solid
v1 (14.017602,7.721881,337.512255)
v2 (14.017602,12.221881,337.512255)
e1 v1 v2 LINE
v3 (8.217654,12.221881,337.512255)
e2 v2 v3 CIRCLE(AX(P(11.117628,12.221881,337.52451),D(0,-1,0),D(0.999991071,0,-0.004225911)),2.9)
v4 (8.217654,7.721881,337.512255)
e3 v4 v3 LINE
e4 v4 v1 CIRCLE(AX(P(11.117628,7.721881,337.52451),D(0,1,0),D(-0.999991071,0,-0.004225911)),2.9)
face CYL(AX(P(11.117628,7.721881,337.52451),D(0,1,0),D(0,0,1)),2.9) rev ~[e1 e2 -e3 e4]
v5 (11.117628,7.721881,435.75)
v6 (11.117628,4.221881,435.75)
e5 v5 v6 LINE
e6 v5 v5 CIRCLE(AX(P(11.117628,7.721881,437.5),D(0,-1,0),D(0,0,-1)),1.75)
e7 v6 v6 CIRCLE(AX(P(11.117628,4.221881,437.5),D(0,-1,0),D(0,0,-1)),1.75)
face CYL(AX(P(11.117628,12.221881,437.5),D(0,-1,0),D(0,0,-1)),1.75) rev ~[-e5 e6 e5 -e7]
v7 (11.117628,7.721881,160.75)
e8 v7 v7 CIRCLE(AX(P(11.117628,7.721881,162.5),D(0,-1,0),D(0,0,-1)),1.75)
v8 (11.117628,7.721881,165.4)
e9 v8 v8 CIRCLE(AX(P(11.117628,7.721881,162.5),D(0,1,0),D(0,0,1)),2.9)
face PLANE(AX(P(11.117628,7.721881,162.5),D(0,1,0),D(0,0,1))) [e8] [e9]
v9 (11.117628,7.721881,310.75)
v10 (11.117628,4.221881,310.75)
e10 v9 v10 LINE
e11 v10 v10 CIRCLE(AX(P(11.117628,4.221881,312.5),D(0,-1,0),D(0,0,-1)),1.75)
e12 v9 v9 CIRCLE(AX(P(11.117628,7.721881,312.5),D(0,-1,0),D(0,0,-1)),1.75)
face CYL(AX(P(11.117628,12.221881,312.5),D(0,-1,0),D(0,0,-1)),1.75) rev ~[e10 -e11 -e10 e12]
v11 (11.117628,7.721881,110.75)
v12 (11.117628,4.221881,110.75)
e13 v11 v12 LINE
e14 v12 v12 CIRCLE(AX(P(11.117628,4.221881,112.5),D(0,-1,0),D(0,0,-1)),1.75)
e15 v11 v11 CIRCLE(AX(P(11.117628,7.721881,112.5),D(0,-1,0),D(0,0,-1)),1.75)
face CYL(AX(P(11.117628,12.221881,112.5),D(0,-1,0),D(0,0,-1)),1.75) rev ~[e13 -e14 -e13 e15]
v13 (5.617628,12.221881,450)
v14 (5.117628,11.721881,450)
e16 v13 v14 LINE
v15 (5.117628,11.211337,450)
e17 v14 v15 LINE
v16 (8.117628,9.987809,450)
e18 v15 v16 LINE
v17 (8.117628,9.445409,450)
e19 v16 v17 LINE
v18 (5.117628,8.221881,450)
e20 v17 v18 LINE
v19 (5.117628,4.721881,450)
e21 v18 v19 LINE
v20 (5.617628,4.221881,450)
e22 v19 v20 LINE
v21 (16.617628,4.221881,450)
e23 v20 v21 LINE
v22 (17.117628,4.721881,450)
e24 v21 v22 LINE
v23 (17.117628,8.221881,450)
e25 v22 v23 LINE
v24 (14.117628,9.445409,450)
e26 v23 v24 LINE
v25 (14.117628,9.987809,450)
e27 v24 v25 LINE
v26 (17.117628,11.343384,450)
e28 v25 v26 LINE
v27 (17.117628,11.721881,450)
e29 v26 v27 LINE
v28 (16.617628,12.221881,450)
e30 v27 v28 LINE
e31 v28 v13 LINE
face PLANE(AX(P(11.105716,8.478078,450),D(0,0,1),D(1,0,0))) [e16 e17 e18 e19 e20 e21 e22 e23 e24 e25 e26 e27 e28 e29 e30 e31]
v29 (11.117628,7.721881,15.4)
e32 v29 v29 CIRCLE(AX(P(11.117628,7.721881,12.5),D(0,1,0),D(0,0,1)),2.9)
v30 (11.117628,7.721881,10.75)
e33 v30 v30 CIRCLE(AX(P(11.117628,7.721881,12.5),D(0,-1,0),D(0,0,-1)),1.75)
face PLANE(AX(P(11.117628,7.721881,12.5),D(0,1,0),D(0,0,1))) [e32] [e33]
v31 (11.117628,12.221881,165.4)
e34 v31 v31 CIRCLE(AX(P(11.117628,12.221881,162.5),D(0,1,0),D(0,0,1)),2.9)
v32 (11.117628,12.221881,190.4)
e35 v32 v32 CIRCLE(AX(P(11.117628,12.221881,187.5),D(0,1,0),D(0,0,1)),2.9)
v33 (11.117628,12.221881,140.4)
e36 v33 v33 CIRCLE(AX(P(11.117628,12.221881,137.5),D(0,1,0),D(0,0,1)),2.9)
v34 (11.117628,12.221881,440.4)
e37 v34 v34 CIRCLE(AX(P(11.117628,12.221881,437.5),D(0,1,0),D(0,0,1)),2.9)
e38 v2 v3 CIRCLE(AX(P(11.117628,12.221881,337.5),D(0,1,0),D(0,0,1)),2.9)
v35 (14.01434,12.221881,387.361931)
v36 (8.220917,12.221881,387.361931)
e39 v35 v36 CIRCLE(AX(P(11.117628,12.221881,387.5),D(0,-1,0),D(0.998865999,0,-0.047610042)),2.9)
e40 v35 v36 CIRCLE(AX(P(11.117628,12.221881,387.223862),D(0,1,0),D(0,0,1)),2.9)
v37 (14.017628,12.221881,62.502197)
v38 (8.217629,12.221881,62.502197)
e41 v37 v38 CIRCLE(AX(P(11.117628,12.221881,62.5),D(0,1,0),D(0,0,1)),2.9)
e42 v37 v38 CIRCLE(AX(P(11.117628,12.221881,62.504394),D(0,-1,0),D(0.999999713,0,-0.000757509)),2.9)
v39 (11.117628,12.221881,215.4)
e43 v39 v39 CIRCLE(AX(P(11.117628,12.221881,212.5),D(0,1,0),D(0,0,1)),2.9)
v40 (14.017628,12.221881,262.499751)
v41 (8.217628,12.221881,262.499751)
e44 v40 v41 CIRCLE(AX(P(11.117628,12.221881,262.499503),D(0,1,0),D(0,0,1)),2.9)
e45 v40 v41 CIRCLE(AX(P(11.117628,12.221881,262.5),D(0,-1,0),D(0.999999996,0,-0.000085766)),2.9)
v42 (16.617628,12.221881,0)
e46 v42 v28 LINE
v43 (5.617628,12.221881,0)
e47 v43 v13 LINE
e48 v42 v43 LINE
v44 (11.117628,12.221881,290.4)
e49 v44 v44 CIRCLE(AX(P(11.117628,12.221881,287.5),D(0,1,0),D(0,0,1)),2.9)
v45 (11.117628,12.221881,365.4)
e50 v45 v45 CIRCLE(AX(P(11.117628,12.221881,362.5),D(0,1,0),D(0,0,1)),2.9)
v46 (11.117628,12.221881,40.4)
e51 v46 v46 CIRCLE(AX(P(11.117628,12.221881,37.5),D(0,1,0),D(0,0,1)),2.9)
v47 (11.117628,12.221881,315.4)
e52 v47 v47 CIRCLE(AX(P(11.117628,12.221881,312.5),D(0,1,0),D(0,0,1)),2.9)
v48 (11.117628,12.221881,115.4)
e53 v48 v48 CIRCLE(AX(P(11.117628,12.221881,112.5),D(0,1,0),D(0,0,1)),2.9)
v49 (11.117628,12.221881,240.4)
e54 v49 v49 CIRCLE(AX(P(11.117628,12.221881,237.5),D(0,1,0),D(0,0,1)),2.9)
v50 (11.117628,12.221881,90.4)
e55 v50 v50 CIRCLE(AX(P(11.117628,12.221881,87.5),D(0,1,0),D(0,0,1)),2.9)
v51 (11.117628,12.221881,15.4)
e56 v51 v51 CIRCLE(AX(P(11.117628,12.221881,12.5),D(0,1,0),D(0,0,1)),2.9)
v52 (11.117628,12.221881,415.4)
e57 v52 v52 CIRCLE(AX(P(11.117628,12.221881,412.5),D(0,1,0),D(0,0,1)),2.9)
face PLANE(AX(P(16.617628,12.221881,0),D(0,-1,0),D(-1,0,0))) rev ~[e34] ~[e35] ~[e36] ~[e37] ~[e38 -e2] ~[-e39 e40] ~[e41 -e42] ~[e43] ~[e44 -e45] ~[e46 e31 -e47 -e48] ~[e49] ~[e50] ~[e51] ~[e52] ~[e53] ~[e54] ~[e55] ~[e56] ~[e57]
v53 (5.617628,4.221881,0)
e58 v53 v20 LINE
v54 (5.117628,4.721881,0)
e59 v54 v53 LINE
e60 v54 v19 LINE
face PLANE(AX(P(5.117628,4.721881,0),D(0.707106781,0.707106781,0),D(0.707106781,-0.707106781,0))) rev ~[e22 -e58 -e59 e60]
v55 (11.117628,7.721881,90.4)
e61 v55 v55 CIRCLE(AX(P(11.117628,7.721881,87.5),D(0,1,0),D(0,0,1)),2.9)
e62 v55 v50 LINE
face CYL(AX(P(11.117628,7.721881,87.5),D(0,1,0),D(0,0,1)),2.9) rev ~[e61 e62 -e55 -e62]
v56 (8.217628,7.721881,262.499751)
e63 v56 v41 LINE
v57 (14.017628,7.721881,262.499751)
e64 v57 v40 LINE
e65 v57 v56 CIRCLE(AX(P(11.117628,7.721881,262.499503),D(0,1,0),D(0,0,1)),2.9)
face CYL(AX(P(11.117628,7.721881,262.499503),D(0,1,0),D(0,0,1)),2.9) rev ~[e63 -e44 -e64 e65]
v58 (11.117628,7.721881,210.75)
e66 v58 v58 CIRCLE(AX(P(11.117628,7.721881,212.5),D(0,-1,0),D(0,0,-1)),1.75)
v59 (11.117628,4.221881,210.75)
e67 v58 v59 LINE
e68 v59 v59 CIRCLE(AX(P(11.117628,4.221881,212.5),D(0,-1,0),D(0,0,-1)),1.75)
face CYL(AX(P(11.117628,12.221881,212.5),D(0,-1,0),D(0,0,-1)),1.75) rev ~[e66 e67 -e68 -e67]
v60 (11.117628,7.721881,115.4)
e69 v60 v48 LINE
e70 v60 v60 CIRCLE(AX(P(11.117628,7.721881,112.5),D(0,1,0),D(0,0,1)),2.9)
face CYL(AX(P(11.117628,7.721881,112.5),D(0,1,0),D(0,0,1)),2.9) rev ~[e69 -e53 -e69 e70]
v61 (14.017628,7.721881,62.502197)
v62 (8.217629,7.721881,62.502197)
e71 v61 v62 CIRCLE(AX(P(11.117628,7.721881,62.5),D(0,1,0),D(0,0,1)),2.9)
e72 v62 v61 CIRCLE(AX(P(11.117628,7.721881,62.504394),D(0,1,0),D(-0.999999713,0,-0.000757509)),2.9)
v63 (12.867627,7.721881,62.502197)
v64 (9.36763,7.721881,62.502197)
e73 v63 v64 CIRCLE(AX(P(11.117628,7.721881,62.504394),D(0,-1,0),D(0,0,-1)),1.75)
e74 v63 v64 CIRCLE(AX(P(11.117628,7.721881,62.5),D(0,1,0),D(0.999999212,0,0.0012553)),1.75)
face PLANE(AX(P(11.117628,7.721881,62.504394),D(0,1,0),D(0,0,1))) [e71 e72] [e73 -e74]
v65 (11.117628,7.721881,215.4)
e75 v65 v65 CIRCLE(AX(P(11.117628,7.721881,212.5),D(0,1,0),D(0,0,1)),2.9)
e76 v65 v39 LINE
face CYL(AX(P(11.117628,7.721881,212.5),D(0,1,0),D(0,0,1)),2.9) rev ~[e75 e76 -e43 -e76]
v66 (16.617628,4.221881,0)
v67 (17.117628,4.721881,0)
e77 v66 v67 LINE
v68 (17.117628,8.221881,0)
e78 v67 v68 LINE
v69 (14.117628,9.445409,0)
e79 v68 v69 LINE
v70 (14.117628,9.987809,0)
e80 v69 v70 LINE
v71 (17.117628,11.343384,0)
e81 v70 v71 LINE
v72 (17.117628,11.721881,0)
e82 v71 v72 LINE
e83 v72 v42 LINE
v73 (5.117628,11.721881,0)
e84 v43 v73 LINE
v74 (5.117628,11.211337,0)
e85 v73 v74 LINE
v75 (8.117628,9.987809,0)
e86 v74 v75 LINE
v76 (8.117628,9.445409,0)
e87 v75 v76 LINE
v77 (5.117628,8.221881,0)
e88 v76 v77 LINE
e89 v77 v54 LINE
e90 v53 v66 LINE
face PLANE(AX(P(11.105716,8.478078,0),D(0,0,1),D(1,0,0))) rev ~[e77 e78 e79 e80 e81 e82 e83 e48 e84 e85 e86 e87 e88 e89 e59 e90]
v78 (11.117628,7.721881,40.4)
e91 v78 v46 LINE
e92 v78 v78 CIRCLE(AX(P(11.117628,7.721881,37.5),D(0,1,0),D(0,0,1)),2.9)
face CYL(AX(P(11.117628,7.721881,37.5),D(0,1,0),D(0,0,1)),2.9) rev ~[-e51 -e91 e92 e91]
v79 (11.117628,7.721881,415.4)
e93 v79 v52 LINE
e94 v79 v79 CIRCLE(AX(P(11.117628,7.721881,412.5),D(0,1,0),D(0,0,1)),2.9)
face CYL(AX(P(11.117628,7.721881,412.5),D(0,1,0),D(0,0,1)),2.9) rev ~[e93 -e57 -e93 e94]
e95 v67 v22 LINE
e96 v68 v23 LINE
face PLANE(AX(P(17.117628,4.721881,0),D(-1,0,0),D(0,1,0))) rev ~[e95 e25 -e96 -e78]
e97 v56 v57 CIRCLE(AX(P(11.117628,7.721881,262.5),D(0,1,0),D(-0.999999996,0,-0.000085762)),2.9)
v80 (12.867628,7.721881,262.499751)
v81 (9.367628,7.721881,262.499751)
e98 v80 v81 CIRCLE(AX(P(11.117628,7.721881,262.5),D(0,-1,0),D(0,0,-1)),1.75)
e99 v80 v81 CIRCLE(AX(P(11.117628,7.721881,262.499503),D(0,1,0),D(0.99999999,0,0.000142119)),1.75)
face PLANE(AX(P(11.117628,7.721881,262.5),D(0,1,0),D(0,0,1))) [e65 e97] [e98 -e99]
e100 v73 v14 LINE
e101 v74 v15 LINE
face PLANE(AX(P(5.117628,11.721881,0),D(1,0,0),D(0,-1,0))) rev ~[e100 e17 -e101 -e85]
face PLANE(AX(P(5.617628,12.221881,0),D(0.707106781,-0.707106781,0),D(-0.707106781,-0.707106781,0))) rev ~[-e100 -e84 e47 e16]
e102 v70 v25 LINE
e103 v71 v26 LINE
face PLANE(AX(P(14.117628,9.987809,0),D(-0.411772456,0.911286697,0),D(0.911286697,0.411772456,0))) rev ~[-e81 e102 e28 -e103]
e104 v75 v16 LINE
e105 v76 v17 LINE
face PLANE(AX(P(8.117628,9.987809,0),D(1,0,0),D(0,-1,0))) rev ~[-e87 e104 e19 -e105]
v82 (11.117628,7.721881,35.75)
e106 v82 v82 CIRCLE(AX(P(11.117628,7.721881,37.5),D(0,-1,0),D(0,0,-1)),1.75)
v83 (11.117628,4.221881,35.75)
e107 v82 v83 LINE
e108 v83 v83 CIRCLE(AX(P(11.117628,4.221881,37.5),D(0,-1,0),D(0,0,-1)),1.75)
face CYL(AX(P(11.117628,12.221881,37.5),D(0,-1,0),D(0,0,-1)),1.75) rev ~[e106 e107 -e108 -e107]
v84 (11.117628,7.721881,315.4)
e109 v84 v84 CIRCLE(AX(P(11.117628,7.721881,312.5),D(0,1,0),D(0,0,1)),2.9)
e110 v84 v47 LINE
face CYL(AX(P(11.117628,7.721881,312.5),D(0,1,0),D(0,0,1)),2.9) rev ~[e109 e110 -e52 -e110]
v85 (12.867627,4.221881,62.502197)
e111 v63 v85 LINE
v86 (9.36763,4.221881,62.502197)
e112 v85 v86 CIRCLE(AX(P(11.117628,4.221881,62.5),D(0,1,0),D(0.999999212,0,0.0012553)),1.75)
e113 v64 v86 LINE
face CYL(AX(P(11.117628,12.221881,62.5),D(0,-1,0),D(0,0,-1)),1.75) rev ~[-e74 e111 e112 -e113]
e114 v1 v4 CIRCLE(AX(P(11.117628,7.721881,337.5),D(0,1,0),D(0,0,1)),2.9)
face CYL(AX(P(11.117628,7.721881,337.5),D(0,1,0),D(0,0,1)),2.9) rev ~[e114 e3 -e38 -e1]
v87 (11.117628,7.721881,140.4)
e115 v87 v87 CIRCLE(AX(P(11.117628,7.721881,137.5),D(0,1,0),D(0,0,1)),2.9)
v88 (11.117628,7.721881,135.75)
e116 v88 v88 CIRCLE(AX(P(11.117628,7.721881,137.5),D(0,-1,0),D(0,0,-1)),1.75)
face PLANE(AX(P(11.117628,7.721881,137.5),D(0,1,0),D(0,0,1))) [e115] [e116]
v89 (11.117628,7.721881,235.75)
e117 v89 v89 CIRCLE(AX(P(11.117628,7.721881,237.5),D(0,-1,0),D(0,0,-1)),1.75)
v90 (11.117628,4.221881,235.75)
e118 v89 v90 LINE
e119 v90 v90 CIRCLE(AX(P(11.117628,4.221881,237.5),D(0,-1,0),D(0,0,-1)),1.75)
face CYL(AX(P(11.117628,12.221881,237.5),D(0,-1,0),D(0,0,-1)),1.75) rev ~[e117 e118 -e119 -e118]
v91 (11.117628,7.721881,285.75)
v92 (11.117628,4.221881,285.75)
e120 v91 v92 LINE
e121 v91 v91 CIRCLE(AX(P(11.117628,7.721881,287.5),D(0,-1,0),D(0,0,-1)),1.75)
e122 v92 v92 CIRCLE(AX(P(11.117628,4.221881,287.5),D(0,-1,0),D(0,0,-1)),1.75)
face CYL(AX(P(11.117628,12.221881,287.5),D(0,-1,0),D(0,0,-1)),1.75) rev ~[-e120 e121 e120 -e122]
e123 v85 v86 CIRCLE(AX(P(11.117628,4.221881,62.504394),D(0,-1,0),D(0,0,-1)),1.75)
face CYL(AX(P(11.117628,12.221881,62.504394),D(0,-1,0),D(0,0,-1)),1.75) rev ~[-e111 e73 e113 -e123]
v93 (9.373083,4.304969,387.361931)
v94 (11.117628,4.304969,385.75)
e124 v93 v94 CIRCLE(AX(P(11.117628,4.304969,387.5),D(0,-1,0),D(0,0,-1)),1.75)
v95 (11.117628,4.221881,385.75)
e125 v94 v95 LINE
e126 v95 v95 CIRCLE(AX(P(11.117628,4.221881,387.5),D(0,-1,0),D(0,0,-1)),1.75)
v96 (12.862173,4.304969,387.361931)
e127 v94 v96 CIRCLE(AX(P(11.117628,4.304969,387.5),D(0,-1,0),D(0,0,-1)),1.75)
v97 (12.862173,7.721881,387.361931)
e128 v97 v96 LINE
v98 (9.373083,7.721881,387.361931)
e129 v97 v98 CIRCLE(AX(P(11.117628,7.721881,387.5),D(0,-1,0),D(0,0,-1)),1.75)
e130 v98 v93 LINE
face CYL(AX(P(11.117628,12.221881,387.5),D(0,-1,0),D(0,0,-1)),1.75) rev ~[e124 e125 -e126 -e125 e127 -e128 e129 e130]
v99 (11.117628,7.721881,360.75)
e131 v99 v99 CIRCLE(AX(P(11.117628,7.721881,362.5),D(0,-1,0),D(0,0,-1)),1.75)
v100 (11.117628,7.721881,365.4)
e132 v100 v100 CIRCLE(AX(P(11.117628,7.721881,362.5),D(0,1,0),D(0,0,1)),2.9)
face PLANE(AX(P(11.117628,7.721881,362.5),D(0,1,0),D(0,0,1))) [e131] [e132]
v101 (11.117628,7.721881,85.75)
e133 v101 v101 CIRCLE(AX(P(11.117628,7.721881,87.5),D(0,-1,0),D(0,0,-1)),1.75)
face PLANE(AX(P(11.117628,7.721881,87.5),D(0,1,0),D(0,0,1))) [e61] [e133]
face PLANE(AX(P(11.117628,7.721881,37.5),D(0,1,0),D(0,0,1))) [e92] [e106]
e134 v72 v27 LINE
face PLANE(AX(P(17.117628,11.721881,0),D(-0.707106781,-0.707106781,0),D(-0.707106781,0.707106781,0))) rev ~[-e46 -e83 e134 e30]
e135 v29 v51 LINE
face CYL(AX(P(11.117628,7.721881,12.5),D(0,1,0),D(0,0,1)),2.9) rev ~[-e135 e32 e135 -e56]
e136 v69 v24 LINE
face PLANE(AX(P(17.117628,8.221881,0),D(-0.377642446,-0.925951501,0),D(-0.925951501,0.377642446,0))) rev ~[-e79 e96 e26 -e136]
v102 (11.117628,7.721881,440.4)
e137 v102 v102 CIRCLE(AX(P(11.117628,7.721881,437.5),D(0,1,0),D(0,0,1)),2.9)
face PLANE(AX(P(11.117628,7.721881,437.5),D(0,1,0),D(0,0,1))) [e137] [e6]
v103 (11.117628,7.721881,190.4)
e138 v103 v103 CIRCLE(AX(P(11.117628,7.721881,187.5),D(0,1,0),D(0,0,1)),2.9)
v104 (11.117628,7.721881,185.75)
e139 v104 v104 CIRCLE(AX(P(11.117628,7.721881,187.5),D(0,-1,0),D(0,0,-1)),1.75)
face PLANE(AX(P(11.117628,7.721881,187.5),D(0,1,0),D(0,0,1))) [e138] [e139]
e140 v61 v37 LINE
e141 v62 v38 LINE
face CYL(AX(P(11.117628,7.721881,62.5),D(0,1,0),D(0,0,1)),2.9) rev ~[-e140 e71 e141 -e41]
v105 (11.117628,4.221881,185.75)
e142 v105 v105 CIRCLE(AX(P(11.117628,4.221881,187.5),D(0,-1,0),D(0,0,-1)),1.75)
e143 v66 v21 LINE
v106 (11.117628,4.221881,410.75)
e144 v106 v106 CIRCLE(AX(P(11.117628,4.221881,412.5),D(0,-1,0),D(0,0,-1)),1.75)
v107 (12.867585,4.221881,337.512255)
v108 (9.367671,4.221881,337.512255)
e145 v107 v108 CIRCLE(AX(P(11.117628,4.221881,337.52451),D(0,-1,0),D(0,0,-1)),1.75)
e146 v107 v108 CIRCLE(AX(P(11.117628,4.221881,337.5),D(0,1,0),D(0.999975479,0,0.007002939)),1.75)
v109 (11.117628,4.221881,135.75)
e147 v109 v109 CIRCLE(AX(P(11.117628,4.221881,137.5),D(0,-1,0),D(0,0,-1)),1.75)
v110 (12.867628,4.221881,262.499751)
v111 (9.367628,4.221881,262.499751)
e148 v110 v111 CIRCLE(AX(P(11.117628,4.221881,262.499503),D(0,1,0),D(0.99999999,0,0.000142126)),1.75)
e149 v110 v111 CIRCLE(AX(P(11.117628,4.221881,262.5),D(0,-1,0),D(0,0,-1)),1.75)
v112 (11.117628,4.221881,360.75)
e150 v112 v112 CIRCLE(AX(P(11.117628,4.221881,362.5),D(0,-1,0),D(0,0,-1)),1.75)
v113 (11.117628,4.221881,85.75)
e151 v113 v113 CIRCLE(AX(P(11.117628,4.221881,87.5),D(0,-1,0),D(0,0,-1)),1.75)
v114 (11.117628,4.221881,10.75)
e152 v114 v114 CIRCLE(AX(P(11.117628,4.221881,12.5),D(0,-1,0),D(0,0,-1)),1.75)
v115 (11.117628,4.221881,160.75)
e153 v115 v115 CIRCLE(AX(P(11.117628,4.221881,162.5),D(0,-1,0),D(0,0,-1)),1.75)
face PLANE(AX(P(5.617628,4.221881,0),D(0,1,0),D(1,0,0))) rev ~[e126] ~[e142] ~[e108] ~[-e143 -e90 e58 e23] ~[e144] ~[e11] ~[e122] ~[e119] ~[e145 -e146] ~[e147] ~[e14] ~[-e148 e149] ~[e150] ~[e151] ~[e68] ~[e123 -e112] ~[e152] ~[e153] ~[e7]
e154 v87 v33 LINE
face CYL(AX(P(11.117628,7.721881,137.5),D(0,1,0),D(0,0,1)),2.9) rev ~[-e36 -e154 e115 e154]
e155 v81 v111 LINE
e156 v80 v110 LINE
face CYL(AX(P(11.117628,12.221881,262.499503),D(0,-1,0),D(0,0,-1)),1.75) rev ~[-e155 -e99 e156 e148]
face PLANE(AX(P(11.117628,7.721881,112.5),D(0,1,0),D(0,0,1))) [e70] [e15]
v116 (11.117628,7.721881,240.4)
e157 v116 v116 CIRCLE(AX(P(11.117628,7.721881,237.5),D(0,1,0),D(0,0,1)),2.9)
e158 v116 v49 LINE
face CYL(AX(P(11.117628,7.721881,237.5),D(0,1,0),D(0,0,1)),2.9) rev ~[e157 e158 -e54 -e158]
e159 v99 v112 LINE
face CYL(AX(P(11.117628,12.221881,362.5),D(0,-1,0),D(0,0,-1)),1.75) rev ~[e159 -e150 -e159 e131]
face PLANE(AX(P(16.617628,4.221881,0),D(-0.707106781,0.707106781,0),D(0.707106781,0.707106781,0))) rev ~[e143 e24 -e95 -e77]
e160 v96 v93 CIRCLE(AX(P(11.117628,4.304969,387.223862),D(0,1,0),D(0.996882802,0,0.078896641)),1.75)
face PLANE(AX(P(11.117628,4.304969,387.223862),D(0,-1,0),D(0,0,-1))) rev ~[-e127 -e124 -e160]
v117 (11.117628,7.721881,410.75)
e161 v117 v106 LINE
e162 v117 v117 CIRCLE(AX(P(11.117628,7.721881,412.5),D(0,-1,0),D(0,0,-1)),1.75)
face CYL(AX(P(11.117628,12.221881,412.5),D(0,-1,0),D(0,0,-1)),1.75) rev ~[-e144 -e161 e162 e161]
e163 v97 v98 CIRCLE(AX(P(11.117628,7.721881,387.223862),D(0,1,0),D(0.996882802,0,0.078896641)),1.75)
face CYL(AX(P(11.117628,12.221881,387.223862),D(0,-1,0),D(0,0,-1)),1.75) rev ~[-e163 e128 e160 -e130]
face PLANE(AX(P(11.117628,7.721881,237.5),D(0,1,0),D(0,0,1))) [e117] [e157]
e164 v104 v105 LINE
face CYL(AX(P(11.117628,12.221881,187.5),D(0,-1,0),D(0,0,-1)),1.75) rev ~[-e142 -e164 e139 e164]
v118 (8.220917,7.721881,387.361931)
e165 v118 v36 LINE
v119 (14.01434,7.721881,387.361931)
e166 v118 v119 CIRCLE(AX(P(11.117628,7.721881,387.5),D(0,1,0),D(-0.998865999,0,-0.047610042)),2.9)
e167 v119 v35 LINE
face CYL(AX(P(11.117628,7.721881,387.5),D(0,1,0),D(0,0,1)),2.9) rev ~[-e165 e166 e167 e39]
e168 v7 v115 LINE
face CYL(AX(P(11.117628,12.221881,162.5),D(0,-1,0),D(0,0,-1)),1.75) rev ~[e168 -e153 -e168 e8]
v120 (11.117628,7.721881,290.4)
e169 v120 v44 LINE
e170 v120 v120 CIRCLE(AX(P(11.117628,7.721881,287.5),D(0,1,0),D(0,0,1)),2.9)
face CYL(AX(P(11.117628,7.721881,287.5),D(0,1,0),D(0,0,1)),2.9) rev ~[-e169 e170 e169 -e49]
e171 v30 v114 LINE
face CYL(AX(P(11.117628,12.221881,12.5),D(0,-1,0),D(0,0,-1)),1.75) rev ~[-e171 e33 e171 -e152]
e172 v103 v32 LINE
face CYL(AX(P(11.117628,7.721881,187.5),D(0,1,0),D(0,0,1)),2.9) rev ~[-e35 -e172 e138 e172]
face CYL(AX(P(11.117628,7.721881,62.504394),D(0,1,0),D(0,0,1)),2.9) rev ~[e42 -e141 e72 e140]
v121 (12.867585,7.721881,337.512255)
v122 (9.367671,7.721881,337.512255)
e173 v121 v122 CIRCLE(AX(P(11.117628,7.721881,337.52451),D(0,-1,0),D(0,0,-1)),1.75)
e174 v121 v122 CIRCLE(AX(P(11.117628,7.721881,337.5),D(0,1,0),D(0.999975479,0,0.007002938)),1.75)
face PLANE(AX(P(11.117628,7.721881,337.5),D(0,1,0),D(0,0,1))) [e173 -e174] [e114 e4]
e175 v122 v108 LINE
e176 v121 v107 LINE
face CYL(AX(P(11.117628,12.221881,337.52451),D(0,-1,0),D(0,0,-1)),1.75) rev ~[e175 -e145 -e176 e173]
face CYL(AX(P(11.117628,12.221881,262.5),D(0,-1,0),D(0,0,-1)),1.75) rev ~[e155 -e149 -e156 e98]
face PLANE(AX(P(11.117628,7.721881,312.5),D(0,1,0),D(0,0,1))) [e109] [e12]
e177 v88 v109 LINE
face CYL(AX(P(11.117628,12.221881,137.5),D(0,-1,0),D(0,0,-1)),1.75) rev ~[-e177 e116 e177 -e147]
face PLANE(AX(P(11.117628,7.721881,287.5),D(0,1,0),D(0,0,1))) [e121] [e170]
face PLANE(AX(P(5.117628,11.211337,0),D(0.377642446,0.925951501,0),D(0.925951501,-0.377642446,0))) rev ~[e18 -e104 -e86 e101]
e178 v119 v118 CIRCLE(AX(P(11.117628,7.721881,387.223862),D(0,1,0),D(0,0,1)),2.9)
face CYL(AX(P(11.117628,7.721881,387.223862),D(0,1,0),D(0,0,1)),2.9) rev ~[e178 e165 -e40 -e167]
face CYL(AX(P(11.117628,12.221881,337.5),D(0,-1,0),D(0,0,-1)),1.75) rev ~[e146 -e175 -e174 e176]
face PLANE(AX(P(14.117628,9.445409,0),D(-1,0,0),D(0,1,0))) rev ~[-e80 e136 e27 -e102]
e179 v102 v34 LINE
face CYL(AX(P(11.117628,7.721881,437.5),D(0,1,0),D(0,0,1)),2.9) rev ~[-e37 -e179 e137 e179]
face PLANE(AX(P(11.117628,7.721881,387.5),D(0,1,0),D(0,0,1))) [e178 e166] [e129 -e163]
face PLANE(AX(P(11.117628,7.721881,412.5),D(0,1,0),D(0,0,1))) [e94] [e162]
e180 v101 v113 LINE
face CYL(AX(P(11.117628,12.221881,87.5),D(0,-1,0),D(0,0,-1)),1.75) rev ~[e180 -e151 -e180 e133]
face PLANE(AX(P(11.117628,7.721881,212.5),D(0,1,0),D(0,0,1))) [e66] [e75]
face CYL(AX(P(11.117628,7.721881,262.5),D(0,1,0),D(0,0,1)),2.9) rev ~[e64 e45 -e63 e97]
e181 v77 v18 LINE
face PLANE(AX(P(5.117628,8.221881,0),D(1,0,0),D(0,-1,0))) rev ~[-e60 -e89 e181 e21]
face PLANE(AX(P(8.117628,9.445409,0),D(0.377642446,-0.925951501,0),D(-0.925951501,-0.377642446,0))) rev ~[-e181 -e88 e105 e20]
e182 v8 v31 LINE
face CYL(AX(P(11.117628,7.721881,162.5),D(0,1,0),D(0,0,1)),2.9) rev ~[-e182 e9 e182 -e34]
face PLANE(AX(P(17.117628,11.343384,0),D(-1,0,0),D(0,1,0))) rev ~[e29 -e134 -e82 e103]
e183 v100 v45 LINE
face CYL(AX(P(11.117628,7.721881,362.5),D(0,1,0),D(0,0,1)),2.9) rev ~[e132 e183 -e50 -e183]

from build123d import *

# Parameters (mm, degrees)
EXTRUDE_1_DEPTH           = 450
HOLE_WIZARD_5_D           = 3.5
HOLE_WIZARD_5_CBORE_D     = 5.8
HOLE_WIZARD_5_CBORE_DEPTH = 4.5
HOLE_WIZARD_4_D           = 3.5
HOLE_WIZARD_4_CBORE_D     = 5.8
HOLE_WIZARD_4_CBORE_DEPTH = 4.5
HOLE_WIZARD_3_D           = 3.5
HOLE_WIZARD_3_DEPTH       = 7.916912277
HOLE_WIZARD_3_CBORE_D     = 5.8
HOLE_WIZARD_3_CBORE_DEPTH = 4.5


with BuildPart() as part:
    # 草图1 → 凸台-拉伸1 (new body)
    with BuildSketch(Plane.XY):
        Polygon((5.617628384, 4.221881307), (16.617628384, 4.221881307), (17.117628384, 4.721881307), (17.117628384, 8.221881307), (14.117628384, 9.445409037), (14.117628384, 9.987809251), (17.117628384, 11.343384147), (17.117628384, 11.721881307), (16.617628384, 12.221881307), (5.617628384, 12.221881307), (5.117628384, 11.721881307), (5.117628384, 11.211336981), (8.117628384, 9.987809251), (8.117628384, 9.445409037), (5.117628384, 8.221881307), (5.117628384, 4.721881307), align=None)
    extrude(amount=EXTRUDE_1_DEPTH)

    # 孔5 (through all)
    with Locations(Plane(origin=(11.117628384, 12.221881307, 12.5), x_dir=(0, 0, 1), z_dir=(0, 1, 0))):
        with Locations((0, 0), (25, 0), (50.00439355, 0), (75, 0), (100, 0), (125, 0), (150, 0), (175, 0), (200, 0), (225, 0), (250, 0), (275, 0), (300, 0), (325, 0), (350, 0), (375, 0), (400, 0), (425, 0)):
            CounterBoreHole(HOLE_WIZARD_5_D / 2, HOLE_WIZARD_5_CBORE_D / 2, HOLE_WIZARD_5_CBORE_DEPTH)

    # 孔4 (through all)
    with Locations(Plane(origin=(11.117628384, 12.221881307, 412.5), x_dir=(0, 0, 1), z_dir=(0, 1, 0))):
        with Locations((0, 0), (-25, 0), (-74.975489716, 0), (-75, 0), (-100, 0), (-150.000497417, 0), (-150, 0), (-175, 0), (-200, 0), (-225, 0), (-250, 0), (-275, 0), (-300, 0), (-325, 0), (-350, 0), (-375, 0)):
            CounterBoreHole(HOLE_WIZARD_4_D / 2, HOLE_WIZARD_4_CBORE_D / 2, HOLE_WIZARD_4_CBORE_DEPTH)

    # 孔3
    with Locations(Plane(origin=(11.117628384, 12.221881307, 387.223861755), x_dir=(0, 0, 1), z_dir=(0, 1, 0))):
        with Locations((0, 0)):
            CounterBoreHole(HOLE_WIZARD_3_D / 2, HOLE_WIZARD_3_CBORE_D / 2, HOLE_WIZARD_3_CBORE_DEPTH, depth=HOLE_WIZARD_3_DEPTH)


solid = part.part
